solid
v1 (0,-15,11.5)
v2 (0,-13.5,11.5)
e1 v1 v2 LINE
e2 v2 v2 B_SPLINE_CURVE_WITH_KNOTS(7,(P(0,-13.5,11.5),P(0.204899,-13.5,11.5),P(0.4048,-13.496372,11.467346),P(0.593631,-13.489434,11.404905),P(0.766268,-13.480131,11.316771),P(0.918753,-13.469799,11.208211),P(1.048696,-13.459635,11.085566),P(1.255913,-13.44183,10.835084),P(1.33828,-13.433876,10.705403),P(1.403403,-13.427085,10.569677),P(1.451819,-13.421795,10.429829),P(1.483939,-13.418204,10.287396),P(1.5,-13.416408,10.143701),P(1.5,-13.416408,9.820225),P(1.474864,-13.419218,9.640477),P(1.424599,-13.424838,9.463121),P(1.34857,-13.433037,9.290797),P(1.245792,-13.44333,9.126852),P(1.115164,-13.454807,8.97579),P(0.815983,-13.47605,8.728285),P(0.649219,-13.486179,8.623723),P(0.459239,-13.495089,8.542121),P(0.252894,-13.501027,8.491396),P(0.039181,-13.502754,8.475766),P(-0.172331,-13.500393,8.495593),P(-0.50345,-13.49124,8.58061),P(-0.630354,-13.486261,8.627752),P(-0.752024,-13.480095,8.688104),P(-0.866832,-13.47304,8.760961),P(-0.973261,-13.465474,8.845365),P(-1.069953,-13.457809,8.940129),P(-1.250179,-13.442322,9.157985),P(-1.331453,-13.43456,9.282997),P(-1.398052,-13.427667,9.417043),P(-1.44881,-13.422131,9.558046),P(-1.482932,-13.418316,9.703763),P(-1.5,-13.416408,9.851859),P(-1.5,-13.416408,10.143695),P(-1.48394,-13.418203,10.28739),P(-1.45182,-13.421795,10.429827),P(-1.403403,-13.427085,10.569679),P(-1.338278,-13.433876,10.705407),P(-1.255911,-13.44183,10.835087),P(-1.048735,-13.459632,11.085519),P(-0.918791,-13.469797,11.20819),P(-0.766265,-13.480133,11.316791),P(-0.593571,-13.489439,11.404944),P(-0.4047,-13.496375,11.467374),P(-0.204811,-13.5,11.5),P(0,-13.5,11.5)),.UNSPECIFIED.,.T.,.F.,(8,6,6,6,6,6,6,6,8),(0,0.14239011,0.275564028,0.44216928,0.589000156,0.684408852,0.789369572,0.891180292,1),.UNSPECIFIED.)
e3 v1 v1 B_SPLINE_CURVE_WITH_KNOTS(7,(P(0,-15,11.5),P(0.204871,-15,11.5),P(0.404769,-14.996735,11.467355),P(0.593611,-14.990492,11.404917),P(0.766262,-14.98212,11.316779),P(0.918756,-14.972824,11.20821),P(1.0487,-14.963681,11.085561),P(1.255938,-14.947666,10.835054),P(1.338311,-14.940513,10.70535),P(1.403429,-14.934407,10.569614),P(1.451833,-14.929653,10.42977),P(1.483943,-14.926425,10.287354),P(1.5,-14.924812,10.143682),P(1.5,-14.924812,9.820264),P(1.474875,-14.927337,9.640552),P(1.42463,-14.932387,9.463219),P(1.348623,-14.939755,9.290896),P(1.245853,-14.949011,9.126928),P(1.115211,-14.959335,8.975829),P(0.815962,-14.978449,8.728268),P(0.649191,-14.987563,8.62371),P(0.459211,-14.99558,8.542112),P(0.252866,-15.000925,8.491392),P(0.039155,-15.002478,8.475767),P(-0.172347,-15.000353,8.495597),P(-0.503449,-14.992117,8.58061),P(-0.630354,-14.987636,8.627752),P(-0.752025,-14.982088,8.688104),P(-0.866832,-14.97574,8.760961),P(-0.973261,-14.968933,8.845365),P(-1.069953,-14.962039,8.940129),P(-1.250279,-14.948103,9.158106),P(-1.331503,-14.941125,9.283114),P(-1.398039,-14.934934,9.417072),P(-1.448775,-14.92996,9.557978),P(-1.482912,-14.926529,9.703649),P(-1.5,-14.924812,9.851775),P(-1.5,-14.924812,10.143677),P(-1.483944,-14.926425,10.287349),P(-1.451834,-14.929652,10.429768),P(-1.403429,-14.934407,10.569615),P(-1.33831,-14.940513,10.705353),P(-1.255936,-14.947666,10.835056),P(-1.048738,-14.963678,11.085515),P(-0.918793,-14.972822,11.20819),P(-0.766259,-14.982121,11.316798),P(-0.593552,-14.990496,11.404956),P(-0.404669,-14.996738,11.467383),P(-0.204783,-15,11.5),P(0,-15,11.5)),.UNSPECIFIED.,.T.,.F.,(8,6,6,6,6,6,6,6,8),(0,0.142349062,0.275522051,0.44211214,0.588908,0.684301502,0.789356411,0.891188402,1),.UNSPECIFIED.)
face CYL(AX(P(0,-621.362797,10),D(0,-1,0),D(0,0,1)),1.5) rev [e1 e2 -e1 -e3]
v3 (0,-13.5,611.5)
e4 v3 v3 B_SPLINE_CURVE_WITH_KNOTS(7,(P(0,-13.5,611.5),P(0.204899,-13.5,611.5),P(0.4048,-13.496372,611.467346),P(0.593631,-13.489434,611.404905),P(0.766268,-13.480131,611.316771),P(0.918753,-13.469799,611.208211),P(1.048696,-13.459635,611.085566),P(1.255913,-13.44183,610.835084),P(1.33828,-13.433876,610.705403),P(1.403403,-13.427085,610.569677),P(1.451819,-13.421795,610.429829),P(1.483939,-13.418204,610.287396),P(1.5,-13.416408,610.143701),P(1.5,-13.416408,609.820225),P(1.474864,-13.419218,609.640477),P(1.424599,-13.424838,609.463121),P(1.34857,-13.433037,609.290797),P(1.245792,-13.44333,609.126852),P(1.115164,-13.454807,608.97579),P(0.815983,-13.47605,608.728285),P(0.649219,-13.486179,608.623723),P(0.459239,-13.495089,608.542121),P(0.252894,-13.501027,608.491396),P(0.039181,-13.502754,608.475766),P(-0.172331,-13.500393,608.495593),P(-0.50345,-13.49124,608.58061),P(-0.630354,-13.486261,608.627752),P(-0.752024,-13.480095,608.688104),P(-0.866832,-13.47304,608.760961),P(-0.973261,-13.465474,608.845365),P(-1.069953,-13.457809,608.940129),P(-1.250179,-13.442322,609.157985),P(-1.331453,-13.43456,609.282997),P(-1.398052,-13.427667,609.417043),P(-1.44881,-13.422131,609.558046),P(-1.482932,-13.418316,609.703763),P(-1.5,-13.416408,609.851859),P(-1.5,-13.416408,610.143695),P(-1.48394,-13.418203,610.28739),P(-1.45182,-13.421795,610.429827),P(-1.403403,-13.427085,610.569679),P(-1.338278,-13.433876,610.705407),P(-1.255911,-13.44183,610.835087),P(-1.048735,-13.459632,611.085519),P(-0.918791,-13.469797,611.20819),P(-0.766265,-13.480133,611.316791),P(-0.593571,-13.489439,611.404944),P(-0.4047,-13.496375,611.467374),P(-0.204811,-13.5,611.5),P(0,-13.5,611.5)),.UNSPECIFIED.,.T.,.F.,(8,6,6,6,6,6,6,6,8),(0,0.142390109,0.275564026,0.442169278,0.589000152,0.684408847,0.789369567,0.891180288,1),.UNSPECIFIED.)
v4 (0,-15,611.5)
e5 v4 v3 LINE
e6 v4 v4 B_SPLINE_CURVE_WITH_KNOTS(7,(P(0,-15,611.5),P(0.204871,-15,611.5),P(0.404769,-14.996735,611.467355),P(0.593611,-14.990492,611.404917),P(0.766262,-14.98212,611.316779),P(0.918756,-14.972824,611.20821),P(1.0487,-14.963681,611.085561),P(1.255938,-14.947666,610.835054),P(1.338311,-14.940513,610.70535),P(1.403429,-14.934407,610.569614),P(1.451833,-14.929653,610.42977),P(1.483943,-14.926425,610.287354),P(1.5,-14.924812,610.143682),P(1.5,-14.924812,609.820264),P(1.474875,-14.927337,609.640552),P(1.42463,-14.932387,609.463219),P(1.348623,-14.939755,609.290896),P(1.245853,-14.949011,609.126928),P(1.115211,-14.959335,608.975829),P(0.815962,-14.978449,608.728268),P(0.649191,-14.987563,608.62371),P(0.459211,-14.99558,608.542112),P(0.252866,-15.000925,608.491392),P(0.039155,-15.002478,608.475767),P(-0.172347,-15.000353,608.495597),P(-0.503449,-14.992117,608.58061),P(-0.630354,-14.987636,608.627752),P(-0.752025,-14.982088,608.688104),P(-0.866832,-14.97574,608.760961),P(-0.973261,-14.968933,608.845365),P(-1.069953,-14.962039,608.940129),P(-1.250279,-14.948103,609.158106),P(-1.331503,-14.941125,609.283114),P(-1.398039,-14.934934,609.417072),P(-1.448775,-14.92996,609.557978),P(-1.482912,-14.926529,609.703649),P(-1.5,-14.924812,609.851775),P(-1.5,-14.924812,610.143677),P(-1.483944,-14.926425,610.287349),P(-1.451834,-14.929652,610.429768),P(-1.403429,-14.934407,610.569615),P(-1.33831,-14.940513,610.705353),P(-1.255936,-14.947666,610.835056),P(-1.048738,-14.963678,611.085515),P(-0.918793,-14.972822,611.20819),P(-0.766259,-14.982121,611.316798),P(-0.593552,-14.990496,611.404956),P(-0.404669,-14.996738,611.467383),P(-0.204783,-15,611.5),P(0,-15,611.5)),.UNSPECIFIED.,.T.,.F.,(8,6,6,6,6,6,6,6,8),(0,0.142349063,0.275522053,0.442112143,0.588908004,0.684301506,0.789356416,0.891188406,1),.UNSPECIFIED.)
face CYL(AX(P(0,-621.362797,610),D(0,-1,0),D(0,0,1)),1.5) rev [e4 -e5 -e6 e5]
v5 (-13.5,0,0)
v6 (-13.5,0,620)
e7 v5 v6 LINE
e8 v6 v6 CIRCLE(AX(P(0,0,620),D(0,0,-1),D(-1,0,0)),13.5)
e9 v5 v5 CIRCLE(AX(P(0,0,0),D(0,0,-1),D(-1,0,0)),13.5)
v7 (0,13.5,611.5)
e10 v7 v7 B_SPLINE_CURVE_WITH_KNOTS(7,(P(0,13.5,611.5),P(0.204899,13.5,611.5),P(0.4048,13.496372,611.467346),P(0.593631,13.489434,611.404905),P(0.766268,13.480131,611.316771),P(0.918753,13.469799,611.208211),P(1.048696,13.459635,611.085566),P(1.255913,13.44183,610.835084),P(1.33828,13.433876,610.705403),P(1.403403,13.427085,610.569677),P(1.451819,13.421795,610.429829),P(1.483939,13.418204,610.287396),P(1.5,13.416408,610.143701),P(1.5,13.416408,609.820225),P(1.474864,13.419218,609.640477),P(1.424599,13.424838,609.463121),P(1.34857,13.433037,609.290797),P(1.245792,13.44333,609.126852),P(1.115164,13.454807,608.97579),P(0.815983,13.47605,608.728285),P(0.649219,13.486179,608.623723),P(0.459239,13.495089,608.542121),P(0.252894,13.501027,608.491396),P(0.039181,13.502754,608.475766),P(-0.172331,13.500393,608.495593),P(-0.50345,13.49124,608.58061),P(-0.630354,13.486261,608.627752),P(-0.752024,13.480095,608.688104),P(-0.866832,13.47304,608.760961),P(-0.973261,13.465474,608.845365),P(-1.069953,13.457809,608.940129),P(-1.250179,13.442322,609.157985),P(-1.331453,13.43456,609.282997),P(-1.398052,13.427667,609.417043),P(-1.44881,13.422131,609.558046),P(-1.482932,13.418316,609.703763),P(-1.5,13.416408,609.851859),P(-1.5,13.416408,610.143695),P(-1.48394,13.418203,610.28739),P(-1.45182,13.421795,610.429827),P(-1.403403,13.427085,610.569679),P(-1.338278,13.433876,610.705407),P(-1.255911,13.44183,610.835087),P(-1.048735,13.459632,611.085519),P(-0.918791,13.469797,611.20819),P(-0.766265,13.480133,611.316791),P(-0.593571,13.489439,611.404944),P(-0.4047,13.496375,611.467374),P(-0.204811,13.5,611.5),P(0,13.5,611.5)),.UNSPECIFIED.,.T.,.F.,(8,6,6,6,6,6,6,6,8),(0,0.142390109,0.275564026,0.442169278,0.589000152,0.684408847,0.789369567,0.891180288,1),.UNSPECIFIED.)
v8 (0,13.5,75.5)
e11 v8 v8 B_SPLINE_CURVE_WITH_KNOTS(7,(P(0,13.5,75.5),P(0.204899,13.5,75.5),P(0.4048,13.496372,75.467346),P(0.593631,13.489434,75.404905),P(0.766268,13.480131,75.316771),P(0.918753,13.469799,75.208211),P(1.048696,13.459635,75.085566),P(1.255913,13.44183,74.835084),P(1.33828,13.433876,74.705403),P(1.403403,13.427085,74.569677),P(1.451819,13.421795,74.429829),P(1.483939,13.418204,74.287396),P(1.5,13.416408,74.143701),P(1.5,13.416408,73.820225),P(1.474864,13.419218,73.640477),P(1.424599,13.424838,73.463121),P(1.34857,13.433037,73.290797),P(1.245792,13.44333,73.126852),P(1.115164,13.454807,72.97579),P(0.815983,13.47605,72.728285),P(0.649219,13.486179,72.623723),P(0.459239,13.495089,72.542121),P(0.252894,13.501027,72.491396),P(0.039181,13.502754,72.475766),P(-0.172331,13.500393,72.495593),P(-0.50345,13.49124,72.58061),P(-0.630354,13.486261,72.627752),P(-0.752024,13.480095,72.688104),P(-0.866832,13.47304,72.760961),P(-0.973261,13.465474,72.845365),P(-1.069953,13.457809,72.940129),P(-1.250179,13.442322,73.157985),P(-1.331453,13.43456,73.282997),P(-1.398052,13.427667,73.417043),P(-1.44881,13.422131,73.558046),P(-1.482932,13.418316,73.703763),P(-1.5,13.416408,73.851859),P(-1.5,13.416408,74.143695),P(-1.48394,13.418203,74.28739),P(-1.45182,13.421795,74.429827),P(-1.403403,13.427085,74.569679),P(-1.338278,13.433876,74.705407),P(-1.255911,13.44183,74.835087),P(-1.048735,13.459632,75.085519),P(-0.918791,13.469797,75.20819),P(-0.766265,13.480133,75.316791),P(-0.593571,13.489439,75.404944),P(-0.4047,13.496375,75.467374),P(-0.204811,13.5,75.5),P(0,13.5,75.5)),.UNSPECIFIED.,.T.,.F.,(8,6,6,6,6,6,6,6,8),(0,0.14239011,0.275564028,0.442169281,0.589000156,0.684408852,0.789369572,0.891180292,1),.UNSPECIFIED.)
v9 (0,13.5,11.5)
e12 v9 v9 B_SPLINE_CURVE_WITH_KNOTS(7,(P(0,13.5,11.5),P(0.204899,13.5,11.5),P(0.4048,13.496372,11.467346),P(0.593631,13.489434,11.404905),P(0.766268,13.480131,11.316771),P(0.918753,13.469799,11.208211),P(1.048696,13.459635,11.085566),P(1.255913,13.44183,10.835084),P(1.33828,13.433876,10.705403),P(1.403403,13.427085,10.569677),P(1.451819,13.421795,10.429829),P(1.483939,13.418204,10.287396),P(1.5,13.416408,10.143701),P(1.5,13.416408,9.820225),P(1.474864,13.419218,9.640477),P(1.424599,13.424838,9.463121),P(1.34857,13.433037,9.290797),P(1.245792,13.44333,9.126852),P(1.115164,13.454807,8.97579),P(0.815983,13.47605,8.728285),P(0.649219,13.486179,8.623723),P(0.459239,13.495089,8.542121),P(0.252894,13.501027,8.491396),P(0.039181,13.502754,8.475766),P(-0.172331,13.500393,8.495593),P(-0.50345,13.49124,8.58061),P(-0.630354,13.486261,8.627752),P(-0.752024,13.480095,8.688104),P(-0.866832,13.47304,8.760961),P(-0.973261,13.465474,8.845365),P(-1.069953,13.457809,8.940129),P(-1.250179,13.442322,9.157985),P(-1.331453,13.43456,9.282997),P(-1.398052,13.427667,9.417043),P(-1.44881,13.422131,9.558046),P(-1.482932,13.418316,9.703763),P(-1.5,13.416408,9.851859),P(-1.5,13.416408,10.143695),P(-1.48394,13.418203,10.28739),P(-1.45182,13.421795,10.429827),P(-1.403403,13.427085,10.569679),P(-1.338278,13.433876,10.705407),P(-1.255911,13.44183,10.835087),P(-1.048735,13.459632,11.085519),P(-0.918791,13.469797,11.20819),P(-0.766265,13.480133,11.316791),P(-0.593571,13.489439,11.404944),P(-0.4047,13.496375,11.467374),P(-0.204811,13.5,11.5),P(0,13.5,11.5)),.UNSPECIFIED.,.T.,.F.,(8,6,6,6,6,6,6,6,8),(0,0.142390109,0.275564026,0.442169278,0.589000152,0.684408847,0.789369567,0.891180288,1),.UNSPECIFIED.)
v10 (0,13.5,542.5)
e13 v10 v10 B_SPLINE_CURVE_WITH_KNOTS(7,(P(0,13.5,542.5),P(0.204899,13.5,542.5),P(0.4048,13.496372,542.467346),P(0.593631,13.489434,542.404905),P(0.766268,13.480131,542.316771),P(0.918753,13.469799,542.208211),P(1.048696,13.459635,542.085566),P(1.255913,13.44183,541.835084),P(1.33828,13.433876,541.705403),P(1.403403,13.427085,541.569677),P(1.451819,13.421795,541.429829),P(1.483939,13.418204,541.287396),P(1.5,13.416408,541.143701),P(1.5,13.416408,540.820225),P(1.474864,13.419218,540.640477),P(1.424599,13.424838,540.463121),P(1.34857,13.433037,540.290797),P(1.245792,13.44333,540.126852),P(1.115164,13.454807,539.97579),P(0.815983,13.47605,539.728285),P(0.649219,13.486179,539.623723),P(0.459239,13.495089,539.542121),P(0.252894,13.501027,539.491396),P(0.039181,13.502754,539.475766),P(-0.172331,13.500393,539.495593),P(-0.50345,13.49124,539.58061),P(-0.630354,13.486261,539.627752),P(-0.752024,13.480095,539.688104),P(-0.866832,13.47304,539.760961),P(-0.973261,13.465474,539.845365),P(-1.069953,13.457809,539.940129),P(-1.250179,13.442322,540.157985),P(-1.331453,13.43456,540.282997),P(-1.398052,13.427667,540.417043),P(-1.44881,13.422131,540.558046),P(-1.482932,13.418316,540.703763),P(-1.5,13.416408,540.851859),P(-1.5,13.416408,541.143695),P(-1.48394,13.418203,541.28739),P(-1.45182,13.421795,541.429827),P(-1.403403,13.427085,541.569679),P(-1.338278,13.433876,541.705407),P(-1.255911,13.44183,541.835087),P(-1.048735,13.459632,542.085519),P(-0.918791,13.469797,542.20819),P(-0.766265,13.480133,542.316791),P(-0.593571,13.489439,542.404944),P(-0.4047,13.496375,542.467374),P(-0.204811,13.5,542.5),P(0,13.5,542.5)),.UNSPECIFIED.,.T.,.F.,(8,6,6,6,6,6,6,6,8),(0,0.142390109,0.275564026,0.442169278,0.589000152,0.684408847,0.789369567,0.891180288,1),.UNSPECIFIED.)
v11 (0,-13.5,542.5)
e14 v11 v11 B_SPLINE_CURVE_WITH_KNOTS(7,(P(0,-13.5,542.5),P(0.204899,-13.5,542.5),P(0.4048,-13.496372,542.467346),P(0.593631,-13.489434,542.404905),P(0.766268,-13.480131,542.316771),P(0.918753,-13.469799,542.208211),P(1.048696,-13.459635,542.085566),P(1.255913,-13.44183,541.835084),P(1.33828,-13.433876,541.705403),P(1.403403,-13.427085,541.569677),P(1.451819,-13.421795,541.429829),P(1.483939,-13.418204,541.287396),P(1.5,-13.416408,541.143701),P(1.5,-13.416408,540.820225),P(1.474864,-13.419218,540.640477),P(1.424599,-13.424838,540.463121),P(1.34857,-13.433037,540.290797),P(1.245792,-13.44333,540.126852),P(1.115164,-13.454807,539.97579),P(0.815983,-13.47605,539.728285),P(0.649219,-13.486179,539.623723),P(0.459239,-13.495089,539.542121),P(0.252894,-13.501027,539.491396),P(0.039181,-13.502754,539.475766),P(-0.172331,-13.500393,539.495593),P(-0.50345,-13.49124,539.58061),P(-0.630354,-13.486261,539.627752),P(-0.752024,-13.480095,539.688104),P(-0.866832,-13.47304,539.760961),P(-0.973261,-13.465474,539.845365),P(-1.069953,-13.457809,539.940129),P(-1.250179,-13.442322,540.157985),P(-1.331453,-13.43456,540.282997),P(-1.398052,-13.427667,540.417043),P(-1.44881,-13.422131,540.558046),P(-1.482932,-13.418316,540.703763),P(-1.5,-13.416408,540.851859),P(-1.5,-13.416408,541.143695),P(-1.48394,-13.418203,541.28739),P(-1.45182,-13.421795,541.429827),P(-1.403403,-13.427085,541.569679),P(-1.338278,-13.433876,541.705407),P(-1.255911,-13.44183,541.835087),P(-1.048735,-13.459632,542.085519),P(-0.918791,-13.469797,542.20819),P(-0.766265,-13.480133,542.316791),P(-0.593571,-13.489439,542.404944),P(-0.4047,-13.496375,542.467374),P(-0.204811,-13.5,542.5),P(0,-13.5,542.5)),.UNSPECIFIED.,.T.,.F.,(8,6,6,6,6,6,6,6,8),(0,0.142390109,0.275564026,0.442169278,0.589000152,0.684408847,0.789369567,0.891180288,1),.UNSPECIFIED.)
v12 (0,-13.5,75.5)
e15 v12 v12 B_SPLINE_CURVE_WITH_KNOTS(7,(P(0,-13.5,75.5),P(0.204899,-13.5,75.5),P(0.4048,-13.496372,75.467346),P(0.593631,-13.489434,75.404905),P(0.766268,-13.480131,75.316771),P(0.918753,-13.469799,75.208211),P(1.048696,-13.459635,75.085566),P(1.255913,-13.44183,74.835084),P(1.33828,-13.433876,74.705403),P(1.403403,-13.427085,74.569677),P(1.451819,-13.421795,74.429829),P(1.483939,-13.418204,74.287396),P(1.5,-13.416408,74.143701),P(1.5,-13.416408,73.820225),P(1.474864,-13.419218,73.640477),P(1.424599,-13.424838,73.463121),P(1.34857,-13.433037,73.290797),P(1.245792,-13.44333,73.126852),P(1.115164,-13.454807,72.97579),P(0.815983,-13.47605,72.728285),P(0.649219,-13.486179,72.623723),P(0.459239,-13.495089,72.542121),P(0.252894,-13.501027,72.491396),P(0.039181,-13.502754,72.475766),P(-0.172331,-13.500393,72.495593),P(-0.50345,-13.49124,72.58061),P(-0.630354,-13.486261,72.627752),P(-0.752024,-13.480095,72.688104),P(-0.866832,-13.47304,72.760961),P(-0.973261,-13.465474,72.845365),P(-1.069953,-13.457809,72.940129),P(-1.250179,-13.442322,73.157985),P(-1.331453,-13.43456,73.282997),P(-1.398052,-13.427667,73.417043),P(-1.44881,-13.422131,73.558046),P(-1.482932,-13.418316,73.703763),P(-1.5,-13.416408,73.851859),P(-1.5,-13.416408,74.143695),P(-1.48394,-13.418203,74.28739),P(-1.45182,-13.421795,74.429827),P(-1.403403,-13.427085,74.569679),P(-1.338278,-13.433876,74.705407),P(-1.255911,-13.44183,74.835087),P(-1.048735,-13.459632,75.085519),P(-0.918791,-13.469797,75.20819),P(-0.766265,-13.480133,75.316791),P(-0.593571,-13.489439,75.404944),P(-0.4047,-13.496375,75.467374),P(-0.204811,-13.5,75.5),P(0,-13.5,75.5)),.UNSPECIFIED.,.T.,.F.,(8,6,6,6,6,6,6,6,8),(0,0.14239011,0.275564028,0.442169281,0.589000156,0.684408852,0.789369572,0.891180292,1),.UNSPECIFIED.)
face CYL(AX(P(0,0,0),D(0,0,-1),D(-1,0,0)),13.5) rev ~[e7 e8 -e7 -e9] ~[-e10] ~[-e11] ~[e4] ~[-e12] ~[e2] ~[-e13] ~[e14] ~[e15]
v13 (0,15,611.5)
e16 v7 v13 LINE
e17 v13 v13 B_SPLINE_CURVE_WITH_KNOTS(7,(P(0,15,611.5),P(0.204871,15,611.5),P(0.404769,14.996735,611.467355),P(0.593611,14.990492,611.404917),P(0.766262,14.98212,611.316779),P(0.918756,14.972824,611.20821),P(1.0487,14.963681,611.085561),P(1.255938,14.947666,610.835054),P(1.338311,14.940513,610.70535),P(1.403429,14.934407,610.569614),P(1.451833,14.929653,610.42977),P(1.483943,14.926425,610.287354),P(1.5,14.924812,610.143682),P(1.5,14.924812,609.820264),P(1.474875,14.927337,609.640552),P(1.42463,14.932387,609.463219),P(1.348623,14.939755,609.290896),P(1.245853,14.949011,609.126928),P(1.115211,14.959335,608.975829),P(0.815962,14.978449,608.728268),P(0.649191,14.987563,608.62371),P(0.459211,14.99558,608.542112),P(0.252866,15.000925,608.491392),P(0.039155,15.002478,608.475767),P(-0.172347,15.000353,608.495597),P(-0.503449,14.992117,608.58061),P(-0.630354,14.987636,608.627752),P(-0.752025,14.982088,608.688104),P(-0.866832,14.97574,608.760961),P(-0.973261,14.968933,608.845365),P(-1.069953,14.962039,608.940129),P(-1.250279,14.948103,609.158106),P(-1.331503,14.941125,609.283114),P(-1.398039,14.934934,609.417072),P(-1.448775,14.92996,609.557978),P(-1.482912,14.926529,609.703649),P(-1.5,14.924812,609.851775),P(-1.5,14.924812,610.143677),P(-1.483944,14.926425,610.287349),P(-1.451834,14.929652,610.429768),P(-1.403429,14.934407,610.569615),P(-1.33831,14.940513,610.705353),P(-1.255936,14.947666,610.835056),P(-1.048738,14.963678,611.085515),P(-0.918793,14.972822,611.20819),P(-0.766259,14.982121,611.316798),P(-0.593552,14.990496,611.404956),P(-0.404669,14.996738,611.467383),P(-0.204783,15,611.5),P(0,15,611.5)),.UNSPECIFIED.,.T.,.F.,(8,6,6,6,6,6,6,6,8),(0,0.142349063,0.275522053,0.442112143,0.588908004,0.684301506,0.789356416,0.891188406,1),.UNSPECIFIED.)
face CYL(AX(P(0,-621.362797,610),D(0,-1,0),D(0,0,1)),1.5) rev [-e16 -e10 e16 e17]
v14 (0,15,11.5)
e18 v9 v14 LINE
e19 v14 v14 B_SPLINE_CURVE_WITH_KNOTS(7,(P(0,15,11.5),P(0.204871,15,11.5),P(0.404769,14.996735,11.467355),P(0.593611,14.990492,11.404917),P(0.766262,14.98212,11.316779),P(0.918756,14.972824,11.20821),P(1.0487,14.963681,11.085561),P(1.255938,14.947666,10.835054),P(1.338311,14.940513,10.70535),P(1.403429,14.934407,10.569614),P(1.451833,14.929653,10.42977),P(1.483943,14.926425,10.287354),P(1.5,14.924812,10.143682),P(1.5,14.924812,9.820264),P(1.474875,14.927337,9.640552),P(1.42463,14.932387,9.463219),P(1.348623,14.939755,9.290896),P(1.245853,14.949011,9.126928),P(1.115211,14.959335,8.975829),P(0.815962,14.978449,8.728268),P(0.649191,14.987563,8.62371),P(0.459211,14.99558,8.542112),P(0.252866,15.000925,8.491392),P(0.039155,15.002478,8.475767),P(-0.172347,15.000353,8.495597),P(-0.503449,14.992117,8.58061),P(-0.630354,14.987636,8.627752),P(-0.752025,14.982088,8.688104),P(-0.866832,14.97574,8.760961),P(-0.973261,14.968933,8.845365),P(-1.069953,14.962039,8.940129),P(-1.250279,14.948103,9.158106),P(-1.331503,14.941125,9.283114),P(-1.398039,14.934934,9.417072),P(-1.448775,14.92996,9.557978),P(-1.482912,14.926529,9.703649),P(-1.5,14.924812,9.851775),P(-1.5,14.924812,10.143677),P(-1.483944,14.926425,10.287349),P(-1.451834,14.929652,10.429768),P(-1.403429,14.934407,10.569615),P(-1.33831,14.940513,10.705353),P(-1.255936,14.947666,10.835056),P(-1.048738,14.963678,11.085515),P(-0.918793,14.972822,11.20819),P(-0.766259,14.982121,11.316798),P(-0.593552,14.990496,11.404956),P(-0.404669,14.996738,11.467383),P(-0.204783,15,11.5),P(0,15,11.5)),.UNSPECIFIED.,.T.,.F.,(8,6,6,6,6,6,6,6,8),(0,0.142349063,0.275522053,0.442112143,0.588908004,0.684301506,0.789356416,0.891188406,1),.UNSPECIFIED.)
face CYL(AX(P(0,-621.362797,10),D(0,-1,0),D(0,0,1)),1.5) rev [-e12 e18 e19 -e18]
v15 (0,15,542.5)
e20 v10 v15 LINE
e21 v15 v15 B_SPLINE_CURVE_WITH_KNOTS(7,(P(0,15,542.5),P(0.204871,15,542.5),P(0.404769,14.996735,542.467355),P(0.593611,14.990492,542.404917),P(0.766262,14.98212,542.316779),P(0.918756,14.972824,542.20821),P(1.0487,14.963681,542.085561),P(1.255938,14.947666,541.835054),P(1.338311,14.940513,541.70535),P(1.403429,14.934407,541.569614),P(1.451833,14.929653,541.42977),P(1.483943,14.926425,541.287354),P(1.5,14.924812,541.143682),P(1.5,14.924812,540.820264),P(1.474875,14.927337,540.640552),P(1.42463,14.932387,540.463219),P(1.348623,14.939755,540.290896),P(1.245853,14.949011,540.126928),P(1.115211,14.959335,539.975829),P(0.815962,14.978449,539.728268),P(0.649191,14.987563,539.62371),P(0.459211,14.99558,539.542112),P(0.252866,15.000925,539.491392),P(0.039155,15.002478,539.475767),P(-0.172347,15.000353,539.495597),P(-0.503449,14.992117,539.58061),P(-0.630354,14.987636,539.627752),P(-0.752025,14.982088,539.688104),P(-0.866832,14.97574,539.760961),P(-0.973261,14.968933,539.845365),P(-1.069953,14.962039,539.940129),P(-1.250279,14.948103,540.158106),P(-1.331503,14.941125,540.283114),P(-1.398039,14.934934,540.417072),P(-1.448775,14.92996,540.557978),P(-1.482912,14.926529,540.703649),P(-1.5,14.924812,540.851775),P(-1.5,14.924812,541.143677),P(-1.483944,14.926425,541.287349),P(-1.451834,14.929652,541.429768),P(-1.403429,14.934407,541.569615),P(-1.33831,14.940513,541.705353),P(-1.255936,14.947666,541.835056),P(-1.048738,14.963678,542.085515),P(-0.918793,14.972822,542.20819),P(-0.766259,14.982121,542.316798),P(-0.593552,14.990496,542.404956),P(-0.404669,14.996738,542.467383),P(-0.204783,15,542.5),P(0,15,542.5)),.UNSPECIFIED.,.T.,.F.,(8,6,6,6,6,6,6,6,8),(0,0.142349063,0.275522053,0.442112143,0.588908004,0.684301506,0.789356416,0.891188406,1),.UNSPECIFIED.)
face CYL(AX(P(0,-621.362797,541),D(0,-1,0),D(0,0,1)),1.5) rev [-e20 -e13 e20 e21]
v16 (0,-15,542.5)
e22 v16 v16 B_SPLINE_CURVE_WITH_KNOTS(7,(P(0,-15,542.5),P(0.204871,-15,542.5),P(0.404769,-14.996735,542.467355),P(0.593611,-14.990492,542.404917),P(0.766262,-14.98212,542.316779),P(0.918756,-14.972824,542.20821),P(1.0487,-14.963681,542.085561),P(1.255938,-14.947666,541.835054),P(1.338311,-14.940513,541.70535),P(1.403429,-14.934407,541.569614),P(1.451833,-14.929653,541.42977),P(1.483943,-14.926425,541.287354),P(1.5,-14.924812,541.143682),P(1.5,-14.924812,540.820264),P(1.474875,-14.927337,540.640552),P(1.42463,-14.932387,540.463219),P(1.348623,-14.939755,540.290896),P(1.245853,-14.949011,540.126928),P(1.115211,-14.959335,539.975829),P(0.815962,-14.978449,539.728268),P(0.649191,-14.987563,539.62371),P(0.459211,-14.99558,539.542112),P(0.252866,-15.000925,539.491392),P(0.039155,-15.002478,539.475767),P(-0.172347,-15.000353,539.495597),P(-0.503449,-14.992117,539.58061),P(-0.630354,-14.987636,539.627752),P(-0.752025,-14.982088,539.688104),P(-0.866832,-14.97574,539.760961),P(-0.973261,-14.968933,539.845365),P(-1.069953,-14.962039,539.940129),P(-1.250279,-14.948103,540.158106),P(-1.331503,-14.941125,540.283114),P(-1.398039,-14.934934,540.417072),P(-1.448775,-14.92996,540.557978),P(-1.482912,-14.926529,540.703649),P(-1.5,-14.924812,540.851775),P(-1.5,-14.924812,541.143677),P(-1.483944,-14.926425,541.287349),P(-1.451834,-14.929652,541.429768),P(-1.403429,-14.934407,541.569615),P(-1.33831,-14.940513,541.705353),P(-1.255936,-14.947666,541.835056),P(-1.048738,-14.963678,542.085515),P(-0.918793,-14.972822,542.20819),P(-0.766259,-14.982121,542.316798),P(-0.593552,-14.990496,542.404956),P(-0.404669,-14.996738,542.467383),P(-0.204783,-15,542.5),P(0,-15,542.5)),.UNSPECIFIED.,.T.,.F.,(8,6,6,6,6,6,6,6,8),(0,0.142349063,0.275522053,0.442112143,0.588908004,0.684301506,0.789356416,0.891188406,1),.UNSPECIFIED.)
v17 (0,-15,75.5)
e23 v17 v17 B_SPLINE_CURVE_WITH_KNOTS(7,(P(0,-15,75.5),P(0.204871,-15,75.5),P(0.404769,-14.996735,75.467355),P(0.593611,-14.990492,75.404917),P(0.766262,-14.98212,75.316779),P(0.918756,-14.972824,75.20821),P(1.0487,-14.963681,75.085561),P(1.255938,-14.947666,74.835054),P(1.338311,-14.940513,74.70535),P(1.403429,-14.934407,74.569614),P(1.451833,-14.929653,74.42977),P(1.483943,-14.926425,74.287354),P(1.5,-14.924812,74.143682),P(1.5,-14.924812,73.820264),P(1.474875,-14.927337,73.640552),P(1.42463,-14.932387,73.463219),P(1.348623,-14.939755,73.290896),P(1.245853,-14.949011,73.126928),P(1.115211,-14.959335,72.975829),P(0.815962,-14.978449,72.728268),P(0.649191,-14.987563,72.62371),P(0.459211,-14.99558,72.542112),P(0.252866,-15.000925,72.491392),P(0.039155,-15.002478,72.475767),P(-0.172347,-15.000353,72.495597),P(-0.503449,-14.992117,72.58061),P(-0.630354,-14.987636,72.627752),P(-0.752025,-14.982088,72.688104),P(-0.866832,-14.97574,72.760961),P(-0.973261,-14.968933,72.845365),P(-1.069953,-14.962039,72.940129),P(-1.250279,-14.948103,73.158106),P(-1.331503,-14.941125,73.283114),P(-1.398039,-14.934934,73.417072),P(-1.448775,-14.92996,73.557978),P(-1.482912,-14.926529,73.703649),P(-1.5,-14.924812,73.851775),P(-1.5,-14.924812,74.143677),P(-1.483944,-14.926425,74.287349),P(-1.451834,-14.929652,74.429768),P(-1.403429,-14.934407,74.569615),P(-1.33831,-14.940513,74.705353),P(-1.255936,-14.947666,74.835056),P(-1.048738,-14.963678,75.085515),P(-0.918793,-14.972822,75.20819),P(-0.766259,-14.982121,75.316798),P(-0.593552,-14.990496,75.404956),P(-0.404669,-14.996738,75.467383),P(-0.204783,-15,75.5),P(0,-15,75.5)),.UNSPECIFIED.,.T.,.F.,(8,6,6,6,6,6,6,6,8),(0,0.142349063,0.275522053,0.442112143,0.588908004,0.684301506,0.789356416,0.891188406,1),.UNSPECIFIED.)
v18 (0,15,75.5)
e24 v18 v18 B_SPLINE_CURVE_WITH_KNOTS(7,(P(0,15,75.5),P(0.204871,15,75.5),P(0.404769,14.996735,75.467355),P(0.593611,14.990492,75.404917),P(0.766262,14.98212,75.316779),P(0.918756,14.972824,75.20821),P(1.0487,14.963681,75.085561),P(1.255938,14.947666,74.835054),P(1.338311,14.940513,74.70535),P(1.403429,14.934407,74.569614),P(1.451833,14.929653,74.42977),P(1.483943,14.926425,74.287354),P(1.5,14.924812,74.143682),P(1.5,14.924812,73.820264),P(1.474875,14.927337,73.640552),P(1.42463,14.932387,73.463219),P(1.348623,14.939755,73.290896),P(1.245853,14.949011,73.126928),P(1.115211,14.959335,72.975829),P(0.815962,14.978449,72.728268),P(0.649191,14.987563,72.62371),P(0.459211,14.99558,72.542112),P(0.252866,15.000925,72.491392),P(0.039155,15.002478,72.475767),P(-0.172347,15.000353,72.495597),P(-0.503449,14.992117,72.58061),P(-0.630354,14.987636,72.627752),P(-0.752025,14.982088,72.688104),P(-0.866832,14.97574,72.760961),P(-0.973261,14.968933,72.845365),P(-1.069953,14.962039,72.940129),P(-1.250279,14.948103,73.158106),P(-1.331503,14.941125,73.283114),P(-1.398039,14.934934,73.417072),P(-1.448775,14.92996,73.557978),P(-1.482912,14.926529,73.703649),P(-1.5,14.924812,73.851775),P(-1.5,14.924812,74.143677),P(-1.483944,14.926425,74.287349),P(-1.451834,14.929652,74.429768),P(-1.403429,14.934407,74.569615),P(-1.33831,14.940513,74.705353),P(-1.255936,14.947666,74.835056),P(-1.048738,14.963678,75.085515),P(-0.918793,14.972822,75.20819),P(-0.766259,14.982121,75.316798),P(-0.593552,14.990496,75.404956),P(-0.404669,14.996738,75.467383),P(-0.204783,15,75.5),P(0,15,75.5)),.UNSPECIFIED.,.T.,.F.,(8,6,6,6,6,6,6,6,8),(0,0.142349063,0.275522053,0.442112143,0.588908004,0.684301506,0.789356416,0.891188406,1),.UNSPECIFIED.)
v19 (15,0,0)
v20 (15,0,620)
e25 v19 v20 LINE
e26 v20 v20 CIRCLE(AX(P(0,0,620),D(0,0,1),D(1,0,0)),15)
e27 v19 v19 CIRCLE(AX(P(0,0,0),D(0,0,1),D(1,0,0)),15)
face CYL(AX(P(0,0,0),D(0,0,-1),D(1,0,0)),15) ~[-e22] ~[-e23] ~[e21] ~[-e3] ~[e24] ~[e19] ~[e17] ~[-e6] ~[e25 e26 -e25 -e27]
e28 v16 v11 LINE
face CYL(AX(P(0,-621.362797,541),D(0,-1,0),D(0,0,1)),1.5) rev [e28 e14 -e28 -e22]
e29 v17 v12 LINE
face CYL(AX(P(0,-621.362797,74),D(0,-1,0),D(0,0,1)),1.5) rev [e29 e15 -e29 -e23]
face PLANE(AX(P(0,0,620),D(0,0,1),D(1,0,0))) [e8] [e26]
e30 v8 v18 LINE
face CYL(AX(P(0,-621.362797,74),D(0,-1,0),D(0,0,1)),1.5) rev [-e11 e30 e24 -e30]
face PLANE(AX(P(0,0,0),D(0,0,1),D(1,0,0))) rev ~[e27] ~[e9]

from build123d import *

# Parameters (mm, degrees)
SKETCH1_R               = 15
BOSS_EXTRUDE1_DEPTH     = 620
SKETCH2_R               = 13.5
CUT_EXTRUDE1_DEPTH      = 621.362797079
CUT_EXTRUDE2_DEPTH      = 621.362797079
CUT_EXTRUDE2_DEPTH_BACK = 621.362797079
SKETCH3_R               = 1.5


with BuildPart() as part:
    # Sketch1 → Boss-Extrude1 (new body)
    with BuildSketch(Plane.XY):
        Circle(SKETCH1_R)
    extrude(amount=BOSS_EXTRUDE1_DEPTH)

    # Sketch2 → Cut-Extrude1 (cut, through all)
    with BuildSketch(Plane(origin=(0, 0, 0), x_dir=(-1, 0, 0), z_dir=(0, 0, -1))):
        Circle(SKETCH2_R)
    extrude(amount=-CUT_EXTRUDE1_DEPTH, mode=Mode.SUBTRACT)

    # Sketch3 → Cut-Extrude2 (cut, two sides: drawn at the far end of the back side and taken through both)
    with BuildSketch(Plane(origin=(0, 0, 0), x_dir=(1, 0, 0), z_dir=(0, 1, 0)).offset(-CUT_EXTRUDE2_DEPTH_BACK)):
        with Locations(Location((0, -10, 0), (0, 0, 270))):
            Circle(SKETCH3_R)
        with Locations(Location((0, -610, 0), (0, 0, 270))):
            Circle(SKETCH3_R)
        with Locations(Location((0, -74, 0), (0, 0, 270))):
            Circle(SKETCH3_R)
        with Locations(Location((0, -541, 0), (0, 0, 270))):
            Circle(SKETCH3_R)
    extrude(amount=CUT_EXTRUDE2_DEPTH + CUT_EXTRUDE2_DEPTH_BACK, mode=Mode.SUBTRACT)


solid = part.part
